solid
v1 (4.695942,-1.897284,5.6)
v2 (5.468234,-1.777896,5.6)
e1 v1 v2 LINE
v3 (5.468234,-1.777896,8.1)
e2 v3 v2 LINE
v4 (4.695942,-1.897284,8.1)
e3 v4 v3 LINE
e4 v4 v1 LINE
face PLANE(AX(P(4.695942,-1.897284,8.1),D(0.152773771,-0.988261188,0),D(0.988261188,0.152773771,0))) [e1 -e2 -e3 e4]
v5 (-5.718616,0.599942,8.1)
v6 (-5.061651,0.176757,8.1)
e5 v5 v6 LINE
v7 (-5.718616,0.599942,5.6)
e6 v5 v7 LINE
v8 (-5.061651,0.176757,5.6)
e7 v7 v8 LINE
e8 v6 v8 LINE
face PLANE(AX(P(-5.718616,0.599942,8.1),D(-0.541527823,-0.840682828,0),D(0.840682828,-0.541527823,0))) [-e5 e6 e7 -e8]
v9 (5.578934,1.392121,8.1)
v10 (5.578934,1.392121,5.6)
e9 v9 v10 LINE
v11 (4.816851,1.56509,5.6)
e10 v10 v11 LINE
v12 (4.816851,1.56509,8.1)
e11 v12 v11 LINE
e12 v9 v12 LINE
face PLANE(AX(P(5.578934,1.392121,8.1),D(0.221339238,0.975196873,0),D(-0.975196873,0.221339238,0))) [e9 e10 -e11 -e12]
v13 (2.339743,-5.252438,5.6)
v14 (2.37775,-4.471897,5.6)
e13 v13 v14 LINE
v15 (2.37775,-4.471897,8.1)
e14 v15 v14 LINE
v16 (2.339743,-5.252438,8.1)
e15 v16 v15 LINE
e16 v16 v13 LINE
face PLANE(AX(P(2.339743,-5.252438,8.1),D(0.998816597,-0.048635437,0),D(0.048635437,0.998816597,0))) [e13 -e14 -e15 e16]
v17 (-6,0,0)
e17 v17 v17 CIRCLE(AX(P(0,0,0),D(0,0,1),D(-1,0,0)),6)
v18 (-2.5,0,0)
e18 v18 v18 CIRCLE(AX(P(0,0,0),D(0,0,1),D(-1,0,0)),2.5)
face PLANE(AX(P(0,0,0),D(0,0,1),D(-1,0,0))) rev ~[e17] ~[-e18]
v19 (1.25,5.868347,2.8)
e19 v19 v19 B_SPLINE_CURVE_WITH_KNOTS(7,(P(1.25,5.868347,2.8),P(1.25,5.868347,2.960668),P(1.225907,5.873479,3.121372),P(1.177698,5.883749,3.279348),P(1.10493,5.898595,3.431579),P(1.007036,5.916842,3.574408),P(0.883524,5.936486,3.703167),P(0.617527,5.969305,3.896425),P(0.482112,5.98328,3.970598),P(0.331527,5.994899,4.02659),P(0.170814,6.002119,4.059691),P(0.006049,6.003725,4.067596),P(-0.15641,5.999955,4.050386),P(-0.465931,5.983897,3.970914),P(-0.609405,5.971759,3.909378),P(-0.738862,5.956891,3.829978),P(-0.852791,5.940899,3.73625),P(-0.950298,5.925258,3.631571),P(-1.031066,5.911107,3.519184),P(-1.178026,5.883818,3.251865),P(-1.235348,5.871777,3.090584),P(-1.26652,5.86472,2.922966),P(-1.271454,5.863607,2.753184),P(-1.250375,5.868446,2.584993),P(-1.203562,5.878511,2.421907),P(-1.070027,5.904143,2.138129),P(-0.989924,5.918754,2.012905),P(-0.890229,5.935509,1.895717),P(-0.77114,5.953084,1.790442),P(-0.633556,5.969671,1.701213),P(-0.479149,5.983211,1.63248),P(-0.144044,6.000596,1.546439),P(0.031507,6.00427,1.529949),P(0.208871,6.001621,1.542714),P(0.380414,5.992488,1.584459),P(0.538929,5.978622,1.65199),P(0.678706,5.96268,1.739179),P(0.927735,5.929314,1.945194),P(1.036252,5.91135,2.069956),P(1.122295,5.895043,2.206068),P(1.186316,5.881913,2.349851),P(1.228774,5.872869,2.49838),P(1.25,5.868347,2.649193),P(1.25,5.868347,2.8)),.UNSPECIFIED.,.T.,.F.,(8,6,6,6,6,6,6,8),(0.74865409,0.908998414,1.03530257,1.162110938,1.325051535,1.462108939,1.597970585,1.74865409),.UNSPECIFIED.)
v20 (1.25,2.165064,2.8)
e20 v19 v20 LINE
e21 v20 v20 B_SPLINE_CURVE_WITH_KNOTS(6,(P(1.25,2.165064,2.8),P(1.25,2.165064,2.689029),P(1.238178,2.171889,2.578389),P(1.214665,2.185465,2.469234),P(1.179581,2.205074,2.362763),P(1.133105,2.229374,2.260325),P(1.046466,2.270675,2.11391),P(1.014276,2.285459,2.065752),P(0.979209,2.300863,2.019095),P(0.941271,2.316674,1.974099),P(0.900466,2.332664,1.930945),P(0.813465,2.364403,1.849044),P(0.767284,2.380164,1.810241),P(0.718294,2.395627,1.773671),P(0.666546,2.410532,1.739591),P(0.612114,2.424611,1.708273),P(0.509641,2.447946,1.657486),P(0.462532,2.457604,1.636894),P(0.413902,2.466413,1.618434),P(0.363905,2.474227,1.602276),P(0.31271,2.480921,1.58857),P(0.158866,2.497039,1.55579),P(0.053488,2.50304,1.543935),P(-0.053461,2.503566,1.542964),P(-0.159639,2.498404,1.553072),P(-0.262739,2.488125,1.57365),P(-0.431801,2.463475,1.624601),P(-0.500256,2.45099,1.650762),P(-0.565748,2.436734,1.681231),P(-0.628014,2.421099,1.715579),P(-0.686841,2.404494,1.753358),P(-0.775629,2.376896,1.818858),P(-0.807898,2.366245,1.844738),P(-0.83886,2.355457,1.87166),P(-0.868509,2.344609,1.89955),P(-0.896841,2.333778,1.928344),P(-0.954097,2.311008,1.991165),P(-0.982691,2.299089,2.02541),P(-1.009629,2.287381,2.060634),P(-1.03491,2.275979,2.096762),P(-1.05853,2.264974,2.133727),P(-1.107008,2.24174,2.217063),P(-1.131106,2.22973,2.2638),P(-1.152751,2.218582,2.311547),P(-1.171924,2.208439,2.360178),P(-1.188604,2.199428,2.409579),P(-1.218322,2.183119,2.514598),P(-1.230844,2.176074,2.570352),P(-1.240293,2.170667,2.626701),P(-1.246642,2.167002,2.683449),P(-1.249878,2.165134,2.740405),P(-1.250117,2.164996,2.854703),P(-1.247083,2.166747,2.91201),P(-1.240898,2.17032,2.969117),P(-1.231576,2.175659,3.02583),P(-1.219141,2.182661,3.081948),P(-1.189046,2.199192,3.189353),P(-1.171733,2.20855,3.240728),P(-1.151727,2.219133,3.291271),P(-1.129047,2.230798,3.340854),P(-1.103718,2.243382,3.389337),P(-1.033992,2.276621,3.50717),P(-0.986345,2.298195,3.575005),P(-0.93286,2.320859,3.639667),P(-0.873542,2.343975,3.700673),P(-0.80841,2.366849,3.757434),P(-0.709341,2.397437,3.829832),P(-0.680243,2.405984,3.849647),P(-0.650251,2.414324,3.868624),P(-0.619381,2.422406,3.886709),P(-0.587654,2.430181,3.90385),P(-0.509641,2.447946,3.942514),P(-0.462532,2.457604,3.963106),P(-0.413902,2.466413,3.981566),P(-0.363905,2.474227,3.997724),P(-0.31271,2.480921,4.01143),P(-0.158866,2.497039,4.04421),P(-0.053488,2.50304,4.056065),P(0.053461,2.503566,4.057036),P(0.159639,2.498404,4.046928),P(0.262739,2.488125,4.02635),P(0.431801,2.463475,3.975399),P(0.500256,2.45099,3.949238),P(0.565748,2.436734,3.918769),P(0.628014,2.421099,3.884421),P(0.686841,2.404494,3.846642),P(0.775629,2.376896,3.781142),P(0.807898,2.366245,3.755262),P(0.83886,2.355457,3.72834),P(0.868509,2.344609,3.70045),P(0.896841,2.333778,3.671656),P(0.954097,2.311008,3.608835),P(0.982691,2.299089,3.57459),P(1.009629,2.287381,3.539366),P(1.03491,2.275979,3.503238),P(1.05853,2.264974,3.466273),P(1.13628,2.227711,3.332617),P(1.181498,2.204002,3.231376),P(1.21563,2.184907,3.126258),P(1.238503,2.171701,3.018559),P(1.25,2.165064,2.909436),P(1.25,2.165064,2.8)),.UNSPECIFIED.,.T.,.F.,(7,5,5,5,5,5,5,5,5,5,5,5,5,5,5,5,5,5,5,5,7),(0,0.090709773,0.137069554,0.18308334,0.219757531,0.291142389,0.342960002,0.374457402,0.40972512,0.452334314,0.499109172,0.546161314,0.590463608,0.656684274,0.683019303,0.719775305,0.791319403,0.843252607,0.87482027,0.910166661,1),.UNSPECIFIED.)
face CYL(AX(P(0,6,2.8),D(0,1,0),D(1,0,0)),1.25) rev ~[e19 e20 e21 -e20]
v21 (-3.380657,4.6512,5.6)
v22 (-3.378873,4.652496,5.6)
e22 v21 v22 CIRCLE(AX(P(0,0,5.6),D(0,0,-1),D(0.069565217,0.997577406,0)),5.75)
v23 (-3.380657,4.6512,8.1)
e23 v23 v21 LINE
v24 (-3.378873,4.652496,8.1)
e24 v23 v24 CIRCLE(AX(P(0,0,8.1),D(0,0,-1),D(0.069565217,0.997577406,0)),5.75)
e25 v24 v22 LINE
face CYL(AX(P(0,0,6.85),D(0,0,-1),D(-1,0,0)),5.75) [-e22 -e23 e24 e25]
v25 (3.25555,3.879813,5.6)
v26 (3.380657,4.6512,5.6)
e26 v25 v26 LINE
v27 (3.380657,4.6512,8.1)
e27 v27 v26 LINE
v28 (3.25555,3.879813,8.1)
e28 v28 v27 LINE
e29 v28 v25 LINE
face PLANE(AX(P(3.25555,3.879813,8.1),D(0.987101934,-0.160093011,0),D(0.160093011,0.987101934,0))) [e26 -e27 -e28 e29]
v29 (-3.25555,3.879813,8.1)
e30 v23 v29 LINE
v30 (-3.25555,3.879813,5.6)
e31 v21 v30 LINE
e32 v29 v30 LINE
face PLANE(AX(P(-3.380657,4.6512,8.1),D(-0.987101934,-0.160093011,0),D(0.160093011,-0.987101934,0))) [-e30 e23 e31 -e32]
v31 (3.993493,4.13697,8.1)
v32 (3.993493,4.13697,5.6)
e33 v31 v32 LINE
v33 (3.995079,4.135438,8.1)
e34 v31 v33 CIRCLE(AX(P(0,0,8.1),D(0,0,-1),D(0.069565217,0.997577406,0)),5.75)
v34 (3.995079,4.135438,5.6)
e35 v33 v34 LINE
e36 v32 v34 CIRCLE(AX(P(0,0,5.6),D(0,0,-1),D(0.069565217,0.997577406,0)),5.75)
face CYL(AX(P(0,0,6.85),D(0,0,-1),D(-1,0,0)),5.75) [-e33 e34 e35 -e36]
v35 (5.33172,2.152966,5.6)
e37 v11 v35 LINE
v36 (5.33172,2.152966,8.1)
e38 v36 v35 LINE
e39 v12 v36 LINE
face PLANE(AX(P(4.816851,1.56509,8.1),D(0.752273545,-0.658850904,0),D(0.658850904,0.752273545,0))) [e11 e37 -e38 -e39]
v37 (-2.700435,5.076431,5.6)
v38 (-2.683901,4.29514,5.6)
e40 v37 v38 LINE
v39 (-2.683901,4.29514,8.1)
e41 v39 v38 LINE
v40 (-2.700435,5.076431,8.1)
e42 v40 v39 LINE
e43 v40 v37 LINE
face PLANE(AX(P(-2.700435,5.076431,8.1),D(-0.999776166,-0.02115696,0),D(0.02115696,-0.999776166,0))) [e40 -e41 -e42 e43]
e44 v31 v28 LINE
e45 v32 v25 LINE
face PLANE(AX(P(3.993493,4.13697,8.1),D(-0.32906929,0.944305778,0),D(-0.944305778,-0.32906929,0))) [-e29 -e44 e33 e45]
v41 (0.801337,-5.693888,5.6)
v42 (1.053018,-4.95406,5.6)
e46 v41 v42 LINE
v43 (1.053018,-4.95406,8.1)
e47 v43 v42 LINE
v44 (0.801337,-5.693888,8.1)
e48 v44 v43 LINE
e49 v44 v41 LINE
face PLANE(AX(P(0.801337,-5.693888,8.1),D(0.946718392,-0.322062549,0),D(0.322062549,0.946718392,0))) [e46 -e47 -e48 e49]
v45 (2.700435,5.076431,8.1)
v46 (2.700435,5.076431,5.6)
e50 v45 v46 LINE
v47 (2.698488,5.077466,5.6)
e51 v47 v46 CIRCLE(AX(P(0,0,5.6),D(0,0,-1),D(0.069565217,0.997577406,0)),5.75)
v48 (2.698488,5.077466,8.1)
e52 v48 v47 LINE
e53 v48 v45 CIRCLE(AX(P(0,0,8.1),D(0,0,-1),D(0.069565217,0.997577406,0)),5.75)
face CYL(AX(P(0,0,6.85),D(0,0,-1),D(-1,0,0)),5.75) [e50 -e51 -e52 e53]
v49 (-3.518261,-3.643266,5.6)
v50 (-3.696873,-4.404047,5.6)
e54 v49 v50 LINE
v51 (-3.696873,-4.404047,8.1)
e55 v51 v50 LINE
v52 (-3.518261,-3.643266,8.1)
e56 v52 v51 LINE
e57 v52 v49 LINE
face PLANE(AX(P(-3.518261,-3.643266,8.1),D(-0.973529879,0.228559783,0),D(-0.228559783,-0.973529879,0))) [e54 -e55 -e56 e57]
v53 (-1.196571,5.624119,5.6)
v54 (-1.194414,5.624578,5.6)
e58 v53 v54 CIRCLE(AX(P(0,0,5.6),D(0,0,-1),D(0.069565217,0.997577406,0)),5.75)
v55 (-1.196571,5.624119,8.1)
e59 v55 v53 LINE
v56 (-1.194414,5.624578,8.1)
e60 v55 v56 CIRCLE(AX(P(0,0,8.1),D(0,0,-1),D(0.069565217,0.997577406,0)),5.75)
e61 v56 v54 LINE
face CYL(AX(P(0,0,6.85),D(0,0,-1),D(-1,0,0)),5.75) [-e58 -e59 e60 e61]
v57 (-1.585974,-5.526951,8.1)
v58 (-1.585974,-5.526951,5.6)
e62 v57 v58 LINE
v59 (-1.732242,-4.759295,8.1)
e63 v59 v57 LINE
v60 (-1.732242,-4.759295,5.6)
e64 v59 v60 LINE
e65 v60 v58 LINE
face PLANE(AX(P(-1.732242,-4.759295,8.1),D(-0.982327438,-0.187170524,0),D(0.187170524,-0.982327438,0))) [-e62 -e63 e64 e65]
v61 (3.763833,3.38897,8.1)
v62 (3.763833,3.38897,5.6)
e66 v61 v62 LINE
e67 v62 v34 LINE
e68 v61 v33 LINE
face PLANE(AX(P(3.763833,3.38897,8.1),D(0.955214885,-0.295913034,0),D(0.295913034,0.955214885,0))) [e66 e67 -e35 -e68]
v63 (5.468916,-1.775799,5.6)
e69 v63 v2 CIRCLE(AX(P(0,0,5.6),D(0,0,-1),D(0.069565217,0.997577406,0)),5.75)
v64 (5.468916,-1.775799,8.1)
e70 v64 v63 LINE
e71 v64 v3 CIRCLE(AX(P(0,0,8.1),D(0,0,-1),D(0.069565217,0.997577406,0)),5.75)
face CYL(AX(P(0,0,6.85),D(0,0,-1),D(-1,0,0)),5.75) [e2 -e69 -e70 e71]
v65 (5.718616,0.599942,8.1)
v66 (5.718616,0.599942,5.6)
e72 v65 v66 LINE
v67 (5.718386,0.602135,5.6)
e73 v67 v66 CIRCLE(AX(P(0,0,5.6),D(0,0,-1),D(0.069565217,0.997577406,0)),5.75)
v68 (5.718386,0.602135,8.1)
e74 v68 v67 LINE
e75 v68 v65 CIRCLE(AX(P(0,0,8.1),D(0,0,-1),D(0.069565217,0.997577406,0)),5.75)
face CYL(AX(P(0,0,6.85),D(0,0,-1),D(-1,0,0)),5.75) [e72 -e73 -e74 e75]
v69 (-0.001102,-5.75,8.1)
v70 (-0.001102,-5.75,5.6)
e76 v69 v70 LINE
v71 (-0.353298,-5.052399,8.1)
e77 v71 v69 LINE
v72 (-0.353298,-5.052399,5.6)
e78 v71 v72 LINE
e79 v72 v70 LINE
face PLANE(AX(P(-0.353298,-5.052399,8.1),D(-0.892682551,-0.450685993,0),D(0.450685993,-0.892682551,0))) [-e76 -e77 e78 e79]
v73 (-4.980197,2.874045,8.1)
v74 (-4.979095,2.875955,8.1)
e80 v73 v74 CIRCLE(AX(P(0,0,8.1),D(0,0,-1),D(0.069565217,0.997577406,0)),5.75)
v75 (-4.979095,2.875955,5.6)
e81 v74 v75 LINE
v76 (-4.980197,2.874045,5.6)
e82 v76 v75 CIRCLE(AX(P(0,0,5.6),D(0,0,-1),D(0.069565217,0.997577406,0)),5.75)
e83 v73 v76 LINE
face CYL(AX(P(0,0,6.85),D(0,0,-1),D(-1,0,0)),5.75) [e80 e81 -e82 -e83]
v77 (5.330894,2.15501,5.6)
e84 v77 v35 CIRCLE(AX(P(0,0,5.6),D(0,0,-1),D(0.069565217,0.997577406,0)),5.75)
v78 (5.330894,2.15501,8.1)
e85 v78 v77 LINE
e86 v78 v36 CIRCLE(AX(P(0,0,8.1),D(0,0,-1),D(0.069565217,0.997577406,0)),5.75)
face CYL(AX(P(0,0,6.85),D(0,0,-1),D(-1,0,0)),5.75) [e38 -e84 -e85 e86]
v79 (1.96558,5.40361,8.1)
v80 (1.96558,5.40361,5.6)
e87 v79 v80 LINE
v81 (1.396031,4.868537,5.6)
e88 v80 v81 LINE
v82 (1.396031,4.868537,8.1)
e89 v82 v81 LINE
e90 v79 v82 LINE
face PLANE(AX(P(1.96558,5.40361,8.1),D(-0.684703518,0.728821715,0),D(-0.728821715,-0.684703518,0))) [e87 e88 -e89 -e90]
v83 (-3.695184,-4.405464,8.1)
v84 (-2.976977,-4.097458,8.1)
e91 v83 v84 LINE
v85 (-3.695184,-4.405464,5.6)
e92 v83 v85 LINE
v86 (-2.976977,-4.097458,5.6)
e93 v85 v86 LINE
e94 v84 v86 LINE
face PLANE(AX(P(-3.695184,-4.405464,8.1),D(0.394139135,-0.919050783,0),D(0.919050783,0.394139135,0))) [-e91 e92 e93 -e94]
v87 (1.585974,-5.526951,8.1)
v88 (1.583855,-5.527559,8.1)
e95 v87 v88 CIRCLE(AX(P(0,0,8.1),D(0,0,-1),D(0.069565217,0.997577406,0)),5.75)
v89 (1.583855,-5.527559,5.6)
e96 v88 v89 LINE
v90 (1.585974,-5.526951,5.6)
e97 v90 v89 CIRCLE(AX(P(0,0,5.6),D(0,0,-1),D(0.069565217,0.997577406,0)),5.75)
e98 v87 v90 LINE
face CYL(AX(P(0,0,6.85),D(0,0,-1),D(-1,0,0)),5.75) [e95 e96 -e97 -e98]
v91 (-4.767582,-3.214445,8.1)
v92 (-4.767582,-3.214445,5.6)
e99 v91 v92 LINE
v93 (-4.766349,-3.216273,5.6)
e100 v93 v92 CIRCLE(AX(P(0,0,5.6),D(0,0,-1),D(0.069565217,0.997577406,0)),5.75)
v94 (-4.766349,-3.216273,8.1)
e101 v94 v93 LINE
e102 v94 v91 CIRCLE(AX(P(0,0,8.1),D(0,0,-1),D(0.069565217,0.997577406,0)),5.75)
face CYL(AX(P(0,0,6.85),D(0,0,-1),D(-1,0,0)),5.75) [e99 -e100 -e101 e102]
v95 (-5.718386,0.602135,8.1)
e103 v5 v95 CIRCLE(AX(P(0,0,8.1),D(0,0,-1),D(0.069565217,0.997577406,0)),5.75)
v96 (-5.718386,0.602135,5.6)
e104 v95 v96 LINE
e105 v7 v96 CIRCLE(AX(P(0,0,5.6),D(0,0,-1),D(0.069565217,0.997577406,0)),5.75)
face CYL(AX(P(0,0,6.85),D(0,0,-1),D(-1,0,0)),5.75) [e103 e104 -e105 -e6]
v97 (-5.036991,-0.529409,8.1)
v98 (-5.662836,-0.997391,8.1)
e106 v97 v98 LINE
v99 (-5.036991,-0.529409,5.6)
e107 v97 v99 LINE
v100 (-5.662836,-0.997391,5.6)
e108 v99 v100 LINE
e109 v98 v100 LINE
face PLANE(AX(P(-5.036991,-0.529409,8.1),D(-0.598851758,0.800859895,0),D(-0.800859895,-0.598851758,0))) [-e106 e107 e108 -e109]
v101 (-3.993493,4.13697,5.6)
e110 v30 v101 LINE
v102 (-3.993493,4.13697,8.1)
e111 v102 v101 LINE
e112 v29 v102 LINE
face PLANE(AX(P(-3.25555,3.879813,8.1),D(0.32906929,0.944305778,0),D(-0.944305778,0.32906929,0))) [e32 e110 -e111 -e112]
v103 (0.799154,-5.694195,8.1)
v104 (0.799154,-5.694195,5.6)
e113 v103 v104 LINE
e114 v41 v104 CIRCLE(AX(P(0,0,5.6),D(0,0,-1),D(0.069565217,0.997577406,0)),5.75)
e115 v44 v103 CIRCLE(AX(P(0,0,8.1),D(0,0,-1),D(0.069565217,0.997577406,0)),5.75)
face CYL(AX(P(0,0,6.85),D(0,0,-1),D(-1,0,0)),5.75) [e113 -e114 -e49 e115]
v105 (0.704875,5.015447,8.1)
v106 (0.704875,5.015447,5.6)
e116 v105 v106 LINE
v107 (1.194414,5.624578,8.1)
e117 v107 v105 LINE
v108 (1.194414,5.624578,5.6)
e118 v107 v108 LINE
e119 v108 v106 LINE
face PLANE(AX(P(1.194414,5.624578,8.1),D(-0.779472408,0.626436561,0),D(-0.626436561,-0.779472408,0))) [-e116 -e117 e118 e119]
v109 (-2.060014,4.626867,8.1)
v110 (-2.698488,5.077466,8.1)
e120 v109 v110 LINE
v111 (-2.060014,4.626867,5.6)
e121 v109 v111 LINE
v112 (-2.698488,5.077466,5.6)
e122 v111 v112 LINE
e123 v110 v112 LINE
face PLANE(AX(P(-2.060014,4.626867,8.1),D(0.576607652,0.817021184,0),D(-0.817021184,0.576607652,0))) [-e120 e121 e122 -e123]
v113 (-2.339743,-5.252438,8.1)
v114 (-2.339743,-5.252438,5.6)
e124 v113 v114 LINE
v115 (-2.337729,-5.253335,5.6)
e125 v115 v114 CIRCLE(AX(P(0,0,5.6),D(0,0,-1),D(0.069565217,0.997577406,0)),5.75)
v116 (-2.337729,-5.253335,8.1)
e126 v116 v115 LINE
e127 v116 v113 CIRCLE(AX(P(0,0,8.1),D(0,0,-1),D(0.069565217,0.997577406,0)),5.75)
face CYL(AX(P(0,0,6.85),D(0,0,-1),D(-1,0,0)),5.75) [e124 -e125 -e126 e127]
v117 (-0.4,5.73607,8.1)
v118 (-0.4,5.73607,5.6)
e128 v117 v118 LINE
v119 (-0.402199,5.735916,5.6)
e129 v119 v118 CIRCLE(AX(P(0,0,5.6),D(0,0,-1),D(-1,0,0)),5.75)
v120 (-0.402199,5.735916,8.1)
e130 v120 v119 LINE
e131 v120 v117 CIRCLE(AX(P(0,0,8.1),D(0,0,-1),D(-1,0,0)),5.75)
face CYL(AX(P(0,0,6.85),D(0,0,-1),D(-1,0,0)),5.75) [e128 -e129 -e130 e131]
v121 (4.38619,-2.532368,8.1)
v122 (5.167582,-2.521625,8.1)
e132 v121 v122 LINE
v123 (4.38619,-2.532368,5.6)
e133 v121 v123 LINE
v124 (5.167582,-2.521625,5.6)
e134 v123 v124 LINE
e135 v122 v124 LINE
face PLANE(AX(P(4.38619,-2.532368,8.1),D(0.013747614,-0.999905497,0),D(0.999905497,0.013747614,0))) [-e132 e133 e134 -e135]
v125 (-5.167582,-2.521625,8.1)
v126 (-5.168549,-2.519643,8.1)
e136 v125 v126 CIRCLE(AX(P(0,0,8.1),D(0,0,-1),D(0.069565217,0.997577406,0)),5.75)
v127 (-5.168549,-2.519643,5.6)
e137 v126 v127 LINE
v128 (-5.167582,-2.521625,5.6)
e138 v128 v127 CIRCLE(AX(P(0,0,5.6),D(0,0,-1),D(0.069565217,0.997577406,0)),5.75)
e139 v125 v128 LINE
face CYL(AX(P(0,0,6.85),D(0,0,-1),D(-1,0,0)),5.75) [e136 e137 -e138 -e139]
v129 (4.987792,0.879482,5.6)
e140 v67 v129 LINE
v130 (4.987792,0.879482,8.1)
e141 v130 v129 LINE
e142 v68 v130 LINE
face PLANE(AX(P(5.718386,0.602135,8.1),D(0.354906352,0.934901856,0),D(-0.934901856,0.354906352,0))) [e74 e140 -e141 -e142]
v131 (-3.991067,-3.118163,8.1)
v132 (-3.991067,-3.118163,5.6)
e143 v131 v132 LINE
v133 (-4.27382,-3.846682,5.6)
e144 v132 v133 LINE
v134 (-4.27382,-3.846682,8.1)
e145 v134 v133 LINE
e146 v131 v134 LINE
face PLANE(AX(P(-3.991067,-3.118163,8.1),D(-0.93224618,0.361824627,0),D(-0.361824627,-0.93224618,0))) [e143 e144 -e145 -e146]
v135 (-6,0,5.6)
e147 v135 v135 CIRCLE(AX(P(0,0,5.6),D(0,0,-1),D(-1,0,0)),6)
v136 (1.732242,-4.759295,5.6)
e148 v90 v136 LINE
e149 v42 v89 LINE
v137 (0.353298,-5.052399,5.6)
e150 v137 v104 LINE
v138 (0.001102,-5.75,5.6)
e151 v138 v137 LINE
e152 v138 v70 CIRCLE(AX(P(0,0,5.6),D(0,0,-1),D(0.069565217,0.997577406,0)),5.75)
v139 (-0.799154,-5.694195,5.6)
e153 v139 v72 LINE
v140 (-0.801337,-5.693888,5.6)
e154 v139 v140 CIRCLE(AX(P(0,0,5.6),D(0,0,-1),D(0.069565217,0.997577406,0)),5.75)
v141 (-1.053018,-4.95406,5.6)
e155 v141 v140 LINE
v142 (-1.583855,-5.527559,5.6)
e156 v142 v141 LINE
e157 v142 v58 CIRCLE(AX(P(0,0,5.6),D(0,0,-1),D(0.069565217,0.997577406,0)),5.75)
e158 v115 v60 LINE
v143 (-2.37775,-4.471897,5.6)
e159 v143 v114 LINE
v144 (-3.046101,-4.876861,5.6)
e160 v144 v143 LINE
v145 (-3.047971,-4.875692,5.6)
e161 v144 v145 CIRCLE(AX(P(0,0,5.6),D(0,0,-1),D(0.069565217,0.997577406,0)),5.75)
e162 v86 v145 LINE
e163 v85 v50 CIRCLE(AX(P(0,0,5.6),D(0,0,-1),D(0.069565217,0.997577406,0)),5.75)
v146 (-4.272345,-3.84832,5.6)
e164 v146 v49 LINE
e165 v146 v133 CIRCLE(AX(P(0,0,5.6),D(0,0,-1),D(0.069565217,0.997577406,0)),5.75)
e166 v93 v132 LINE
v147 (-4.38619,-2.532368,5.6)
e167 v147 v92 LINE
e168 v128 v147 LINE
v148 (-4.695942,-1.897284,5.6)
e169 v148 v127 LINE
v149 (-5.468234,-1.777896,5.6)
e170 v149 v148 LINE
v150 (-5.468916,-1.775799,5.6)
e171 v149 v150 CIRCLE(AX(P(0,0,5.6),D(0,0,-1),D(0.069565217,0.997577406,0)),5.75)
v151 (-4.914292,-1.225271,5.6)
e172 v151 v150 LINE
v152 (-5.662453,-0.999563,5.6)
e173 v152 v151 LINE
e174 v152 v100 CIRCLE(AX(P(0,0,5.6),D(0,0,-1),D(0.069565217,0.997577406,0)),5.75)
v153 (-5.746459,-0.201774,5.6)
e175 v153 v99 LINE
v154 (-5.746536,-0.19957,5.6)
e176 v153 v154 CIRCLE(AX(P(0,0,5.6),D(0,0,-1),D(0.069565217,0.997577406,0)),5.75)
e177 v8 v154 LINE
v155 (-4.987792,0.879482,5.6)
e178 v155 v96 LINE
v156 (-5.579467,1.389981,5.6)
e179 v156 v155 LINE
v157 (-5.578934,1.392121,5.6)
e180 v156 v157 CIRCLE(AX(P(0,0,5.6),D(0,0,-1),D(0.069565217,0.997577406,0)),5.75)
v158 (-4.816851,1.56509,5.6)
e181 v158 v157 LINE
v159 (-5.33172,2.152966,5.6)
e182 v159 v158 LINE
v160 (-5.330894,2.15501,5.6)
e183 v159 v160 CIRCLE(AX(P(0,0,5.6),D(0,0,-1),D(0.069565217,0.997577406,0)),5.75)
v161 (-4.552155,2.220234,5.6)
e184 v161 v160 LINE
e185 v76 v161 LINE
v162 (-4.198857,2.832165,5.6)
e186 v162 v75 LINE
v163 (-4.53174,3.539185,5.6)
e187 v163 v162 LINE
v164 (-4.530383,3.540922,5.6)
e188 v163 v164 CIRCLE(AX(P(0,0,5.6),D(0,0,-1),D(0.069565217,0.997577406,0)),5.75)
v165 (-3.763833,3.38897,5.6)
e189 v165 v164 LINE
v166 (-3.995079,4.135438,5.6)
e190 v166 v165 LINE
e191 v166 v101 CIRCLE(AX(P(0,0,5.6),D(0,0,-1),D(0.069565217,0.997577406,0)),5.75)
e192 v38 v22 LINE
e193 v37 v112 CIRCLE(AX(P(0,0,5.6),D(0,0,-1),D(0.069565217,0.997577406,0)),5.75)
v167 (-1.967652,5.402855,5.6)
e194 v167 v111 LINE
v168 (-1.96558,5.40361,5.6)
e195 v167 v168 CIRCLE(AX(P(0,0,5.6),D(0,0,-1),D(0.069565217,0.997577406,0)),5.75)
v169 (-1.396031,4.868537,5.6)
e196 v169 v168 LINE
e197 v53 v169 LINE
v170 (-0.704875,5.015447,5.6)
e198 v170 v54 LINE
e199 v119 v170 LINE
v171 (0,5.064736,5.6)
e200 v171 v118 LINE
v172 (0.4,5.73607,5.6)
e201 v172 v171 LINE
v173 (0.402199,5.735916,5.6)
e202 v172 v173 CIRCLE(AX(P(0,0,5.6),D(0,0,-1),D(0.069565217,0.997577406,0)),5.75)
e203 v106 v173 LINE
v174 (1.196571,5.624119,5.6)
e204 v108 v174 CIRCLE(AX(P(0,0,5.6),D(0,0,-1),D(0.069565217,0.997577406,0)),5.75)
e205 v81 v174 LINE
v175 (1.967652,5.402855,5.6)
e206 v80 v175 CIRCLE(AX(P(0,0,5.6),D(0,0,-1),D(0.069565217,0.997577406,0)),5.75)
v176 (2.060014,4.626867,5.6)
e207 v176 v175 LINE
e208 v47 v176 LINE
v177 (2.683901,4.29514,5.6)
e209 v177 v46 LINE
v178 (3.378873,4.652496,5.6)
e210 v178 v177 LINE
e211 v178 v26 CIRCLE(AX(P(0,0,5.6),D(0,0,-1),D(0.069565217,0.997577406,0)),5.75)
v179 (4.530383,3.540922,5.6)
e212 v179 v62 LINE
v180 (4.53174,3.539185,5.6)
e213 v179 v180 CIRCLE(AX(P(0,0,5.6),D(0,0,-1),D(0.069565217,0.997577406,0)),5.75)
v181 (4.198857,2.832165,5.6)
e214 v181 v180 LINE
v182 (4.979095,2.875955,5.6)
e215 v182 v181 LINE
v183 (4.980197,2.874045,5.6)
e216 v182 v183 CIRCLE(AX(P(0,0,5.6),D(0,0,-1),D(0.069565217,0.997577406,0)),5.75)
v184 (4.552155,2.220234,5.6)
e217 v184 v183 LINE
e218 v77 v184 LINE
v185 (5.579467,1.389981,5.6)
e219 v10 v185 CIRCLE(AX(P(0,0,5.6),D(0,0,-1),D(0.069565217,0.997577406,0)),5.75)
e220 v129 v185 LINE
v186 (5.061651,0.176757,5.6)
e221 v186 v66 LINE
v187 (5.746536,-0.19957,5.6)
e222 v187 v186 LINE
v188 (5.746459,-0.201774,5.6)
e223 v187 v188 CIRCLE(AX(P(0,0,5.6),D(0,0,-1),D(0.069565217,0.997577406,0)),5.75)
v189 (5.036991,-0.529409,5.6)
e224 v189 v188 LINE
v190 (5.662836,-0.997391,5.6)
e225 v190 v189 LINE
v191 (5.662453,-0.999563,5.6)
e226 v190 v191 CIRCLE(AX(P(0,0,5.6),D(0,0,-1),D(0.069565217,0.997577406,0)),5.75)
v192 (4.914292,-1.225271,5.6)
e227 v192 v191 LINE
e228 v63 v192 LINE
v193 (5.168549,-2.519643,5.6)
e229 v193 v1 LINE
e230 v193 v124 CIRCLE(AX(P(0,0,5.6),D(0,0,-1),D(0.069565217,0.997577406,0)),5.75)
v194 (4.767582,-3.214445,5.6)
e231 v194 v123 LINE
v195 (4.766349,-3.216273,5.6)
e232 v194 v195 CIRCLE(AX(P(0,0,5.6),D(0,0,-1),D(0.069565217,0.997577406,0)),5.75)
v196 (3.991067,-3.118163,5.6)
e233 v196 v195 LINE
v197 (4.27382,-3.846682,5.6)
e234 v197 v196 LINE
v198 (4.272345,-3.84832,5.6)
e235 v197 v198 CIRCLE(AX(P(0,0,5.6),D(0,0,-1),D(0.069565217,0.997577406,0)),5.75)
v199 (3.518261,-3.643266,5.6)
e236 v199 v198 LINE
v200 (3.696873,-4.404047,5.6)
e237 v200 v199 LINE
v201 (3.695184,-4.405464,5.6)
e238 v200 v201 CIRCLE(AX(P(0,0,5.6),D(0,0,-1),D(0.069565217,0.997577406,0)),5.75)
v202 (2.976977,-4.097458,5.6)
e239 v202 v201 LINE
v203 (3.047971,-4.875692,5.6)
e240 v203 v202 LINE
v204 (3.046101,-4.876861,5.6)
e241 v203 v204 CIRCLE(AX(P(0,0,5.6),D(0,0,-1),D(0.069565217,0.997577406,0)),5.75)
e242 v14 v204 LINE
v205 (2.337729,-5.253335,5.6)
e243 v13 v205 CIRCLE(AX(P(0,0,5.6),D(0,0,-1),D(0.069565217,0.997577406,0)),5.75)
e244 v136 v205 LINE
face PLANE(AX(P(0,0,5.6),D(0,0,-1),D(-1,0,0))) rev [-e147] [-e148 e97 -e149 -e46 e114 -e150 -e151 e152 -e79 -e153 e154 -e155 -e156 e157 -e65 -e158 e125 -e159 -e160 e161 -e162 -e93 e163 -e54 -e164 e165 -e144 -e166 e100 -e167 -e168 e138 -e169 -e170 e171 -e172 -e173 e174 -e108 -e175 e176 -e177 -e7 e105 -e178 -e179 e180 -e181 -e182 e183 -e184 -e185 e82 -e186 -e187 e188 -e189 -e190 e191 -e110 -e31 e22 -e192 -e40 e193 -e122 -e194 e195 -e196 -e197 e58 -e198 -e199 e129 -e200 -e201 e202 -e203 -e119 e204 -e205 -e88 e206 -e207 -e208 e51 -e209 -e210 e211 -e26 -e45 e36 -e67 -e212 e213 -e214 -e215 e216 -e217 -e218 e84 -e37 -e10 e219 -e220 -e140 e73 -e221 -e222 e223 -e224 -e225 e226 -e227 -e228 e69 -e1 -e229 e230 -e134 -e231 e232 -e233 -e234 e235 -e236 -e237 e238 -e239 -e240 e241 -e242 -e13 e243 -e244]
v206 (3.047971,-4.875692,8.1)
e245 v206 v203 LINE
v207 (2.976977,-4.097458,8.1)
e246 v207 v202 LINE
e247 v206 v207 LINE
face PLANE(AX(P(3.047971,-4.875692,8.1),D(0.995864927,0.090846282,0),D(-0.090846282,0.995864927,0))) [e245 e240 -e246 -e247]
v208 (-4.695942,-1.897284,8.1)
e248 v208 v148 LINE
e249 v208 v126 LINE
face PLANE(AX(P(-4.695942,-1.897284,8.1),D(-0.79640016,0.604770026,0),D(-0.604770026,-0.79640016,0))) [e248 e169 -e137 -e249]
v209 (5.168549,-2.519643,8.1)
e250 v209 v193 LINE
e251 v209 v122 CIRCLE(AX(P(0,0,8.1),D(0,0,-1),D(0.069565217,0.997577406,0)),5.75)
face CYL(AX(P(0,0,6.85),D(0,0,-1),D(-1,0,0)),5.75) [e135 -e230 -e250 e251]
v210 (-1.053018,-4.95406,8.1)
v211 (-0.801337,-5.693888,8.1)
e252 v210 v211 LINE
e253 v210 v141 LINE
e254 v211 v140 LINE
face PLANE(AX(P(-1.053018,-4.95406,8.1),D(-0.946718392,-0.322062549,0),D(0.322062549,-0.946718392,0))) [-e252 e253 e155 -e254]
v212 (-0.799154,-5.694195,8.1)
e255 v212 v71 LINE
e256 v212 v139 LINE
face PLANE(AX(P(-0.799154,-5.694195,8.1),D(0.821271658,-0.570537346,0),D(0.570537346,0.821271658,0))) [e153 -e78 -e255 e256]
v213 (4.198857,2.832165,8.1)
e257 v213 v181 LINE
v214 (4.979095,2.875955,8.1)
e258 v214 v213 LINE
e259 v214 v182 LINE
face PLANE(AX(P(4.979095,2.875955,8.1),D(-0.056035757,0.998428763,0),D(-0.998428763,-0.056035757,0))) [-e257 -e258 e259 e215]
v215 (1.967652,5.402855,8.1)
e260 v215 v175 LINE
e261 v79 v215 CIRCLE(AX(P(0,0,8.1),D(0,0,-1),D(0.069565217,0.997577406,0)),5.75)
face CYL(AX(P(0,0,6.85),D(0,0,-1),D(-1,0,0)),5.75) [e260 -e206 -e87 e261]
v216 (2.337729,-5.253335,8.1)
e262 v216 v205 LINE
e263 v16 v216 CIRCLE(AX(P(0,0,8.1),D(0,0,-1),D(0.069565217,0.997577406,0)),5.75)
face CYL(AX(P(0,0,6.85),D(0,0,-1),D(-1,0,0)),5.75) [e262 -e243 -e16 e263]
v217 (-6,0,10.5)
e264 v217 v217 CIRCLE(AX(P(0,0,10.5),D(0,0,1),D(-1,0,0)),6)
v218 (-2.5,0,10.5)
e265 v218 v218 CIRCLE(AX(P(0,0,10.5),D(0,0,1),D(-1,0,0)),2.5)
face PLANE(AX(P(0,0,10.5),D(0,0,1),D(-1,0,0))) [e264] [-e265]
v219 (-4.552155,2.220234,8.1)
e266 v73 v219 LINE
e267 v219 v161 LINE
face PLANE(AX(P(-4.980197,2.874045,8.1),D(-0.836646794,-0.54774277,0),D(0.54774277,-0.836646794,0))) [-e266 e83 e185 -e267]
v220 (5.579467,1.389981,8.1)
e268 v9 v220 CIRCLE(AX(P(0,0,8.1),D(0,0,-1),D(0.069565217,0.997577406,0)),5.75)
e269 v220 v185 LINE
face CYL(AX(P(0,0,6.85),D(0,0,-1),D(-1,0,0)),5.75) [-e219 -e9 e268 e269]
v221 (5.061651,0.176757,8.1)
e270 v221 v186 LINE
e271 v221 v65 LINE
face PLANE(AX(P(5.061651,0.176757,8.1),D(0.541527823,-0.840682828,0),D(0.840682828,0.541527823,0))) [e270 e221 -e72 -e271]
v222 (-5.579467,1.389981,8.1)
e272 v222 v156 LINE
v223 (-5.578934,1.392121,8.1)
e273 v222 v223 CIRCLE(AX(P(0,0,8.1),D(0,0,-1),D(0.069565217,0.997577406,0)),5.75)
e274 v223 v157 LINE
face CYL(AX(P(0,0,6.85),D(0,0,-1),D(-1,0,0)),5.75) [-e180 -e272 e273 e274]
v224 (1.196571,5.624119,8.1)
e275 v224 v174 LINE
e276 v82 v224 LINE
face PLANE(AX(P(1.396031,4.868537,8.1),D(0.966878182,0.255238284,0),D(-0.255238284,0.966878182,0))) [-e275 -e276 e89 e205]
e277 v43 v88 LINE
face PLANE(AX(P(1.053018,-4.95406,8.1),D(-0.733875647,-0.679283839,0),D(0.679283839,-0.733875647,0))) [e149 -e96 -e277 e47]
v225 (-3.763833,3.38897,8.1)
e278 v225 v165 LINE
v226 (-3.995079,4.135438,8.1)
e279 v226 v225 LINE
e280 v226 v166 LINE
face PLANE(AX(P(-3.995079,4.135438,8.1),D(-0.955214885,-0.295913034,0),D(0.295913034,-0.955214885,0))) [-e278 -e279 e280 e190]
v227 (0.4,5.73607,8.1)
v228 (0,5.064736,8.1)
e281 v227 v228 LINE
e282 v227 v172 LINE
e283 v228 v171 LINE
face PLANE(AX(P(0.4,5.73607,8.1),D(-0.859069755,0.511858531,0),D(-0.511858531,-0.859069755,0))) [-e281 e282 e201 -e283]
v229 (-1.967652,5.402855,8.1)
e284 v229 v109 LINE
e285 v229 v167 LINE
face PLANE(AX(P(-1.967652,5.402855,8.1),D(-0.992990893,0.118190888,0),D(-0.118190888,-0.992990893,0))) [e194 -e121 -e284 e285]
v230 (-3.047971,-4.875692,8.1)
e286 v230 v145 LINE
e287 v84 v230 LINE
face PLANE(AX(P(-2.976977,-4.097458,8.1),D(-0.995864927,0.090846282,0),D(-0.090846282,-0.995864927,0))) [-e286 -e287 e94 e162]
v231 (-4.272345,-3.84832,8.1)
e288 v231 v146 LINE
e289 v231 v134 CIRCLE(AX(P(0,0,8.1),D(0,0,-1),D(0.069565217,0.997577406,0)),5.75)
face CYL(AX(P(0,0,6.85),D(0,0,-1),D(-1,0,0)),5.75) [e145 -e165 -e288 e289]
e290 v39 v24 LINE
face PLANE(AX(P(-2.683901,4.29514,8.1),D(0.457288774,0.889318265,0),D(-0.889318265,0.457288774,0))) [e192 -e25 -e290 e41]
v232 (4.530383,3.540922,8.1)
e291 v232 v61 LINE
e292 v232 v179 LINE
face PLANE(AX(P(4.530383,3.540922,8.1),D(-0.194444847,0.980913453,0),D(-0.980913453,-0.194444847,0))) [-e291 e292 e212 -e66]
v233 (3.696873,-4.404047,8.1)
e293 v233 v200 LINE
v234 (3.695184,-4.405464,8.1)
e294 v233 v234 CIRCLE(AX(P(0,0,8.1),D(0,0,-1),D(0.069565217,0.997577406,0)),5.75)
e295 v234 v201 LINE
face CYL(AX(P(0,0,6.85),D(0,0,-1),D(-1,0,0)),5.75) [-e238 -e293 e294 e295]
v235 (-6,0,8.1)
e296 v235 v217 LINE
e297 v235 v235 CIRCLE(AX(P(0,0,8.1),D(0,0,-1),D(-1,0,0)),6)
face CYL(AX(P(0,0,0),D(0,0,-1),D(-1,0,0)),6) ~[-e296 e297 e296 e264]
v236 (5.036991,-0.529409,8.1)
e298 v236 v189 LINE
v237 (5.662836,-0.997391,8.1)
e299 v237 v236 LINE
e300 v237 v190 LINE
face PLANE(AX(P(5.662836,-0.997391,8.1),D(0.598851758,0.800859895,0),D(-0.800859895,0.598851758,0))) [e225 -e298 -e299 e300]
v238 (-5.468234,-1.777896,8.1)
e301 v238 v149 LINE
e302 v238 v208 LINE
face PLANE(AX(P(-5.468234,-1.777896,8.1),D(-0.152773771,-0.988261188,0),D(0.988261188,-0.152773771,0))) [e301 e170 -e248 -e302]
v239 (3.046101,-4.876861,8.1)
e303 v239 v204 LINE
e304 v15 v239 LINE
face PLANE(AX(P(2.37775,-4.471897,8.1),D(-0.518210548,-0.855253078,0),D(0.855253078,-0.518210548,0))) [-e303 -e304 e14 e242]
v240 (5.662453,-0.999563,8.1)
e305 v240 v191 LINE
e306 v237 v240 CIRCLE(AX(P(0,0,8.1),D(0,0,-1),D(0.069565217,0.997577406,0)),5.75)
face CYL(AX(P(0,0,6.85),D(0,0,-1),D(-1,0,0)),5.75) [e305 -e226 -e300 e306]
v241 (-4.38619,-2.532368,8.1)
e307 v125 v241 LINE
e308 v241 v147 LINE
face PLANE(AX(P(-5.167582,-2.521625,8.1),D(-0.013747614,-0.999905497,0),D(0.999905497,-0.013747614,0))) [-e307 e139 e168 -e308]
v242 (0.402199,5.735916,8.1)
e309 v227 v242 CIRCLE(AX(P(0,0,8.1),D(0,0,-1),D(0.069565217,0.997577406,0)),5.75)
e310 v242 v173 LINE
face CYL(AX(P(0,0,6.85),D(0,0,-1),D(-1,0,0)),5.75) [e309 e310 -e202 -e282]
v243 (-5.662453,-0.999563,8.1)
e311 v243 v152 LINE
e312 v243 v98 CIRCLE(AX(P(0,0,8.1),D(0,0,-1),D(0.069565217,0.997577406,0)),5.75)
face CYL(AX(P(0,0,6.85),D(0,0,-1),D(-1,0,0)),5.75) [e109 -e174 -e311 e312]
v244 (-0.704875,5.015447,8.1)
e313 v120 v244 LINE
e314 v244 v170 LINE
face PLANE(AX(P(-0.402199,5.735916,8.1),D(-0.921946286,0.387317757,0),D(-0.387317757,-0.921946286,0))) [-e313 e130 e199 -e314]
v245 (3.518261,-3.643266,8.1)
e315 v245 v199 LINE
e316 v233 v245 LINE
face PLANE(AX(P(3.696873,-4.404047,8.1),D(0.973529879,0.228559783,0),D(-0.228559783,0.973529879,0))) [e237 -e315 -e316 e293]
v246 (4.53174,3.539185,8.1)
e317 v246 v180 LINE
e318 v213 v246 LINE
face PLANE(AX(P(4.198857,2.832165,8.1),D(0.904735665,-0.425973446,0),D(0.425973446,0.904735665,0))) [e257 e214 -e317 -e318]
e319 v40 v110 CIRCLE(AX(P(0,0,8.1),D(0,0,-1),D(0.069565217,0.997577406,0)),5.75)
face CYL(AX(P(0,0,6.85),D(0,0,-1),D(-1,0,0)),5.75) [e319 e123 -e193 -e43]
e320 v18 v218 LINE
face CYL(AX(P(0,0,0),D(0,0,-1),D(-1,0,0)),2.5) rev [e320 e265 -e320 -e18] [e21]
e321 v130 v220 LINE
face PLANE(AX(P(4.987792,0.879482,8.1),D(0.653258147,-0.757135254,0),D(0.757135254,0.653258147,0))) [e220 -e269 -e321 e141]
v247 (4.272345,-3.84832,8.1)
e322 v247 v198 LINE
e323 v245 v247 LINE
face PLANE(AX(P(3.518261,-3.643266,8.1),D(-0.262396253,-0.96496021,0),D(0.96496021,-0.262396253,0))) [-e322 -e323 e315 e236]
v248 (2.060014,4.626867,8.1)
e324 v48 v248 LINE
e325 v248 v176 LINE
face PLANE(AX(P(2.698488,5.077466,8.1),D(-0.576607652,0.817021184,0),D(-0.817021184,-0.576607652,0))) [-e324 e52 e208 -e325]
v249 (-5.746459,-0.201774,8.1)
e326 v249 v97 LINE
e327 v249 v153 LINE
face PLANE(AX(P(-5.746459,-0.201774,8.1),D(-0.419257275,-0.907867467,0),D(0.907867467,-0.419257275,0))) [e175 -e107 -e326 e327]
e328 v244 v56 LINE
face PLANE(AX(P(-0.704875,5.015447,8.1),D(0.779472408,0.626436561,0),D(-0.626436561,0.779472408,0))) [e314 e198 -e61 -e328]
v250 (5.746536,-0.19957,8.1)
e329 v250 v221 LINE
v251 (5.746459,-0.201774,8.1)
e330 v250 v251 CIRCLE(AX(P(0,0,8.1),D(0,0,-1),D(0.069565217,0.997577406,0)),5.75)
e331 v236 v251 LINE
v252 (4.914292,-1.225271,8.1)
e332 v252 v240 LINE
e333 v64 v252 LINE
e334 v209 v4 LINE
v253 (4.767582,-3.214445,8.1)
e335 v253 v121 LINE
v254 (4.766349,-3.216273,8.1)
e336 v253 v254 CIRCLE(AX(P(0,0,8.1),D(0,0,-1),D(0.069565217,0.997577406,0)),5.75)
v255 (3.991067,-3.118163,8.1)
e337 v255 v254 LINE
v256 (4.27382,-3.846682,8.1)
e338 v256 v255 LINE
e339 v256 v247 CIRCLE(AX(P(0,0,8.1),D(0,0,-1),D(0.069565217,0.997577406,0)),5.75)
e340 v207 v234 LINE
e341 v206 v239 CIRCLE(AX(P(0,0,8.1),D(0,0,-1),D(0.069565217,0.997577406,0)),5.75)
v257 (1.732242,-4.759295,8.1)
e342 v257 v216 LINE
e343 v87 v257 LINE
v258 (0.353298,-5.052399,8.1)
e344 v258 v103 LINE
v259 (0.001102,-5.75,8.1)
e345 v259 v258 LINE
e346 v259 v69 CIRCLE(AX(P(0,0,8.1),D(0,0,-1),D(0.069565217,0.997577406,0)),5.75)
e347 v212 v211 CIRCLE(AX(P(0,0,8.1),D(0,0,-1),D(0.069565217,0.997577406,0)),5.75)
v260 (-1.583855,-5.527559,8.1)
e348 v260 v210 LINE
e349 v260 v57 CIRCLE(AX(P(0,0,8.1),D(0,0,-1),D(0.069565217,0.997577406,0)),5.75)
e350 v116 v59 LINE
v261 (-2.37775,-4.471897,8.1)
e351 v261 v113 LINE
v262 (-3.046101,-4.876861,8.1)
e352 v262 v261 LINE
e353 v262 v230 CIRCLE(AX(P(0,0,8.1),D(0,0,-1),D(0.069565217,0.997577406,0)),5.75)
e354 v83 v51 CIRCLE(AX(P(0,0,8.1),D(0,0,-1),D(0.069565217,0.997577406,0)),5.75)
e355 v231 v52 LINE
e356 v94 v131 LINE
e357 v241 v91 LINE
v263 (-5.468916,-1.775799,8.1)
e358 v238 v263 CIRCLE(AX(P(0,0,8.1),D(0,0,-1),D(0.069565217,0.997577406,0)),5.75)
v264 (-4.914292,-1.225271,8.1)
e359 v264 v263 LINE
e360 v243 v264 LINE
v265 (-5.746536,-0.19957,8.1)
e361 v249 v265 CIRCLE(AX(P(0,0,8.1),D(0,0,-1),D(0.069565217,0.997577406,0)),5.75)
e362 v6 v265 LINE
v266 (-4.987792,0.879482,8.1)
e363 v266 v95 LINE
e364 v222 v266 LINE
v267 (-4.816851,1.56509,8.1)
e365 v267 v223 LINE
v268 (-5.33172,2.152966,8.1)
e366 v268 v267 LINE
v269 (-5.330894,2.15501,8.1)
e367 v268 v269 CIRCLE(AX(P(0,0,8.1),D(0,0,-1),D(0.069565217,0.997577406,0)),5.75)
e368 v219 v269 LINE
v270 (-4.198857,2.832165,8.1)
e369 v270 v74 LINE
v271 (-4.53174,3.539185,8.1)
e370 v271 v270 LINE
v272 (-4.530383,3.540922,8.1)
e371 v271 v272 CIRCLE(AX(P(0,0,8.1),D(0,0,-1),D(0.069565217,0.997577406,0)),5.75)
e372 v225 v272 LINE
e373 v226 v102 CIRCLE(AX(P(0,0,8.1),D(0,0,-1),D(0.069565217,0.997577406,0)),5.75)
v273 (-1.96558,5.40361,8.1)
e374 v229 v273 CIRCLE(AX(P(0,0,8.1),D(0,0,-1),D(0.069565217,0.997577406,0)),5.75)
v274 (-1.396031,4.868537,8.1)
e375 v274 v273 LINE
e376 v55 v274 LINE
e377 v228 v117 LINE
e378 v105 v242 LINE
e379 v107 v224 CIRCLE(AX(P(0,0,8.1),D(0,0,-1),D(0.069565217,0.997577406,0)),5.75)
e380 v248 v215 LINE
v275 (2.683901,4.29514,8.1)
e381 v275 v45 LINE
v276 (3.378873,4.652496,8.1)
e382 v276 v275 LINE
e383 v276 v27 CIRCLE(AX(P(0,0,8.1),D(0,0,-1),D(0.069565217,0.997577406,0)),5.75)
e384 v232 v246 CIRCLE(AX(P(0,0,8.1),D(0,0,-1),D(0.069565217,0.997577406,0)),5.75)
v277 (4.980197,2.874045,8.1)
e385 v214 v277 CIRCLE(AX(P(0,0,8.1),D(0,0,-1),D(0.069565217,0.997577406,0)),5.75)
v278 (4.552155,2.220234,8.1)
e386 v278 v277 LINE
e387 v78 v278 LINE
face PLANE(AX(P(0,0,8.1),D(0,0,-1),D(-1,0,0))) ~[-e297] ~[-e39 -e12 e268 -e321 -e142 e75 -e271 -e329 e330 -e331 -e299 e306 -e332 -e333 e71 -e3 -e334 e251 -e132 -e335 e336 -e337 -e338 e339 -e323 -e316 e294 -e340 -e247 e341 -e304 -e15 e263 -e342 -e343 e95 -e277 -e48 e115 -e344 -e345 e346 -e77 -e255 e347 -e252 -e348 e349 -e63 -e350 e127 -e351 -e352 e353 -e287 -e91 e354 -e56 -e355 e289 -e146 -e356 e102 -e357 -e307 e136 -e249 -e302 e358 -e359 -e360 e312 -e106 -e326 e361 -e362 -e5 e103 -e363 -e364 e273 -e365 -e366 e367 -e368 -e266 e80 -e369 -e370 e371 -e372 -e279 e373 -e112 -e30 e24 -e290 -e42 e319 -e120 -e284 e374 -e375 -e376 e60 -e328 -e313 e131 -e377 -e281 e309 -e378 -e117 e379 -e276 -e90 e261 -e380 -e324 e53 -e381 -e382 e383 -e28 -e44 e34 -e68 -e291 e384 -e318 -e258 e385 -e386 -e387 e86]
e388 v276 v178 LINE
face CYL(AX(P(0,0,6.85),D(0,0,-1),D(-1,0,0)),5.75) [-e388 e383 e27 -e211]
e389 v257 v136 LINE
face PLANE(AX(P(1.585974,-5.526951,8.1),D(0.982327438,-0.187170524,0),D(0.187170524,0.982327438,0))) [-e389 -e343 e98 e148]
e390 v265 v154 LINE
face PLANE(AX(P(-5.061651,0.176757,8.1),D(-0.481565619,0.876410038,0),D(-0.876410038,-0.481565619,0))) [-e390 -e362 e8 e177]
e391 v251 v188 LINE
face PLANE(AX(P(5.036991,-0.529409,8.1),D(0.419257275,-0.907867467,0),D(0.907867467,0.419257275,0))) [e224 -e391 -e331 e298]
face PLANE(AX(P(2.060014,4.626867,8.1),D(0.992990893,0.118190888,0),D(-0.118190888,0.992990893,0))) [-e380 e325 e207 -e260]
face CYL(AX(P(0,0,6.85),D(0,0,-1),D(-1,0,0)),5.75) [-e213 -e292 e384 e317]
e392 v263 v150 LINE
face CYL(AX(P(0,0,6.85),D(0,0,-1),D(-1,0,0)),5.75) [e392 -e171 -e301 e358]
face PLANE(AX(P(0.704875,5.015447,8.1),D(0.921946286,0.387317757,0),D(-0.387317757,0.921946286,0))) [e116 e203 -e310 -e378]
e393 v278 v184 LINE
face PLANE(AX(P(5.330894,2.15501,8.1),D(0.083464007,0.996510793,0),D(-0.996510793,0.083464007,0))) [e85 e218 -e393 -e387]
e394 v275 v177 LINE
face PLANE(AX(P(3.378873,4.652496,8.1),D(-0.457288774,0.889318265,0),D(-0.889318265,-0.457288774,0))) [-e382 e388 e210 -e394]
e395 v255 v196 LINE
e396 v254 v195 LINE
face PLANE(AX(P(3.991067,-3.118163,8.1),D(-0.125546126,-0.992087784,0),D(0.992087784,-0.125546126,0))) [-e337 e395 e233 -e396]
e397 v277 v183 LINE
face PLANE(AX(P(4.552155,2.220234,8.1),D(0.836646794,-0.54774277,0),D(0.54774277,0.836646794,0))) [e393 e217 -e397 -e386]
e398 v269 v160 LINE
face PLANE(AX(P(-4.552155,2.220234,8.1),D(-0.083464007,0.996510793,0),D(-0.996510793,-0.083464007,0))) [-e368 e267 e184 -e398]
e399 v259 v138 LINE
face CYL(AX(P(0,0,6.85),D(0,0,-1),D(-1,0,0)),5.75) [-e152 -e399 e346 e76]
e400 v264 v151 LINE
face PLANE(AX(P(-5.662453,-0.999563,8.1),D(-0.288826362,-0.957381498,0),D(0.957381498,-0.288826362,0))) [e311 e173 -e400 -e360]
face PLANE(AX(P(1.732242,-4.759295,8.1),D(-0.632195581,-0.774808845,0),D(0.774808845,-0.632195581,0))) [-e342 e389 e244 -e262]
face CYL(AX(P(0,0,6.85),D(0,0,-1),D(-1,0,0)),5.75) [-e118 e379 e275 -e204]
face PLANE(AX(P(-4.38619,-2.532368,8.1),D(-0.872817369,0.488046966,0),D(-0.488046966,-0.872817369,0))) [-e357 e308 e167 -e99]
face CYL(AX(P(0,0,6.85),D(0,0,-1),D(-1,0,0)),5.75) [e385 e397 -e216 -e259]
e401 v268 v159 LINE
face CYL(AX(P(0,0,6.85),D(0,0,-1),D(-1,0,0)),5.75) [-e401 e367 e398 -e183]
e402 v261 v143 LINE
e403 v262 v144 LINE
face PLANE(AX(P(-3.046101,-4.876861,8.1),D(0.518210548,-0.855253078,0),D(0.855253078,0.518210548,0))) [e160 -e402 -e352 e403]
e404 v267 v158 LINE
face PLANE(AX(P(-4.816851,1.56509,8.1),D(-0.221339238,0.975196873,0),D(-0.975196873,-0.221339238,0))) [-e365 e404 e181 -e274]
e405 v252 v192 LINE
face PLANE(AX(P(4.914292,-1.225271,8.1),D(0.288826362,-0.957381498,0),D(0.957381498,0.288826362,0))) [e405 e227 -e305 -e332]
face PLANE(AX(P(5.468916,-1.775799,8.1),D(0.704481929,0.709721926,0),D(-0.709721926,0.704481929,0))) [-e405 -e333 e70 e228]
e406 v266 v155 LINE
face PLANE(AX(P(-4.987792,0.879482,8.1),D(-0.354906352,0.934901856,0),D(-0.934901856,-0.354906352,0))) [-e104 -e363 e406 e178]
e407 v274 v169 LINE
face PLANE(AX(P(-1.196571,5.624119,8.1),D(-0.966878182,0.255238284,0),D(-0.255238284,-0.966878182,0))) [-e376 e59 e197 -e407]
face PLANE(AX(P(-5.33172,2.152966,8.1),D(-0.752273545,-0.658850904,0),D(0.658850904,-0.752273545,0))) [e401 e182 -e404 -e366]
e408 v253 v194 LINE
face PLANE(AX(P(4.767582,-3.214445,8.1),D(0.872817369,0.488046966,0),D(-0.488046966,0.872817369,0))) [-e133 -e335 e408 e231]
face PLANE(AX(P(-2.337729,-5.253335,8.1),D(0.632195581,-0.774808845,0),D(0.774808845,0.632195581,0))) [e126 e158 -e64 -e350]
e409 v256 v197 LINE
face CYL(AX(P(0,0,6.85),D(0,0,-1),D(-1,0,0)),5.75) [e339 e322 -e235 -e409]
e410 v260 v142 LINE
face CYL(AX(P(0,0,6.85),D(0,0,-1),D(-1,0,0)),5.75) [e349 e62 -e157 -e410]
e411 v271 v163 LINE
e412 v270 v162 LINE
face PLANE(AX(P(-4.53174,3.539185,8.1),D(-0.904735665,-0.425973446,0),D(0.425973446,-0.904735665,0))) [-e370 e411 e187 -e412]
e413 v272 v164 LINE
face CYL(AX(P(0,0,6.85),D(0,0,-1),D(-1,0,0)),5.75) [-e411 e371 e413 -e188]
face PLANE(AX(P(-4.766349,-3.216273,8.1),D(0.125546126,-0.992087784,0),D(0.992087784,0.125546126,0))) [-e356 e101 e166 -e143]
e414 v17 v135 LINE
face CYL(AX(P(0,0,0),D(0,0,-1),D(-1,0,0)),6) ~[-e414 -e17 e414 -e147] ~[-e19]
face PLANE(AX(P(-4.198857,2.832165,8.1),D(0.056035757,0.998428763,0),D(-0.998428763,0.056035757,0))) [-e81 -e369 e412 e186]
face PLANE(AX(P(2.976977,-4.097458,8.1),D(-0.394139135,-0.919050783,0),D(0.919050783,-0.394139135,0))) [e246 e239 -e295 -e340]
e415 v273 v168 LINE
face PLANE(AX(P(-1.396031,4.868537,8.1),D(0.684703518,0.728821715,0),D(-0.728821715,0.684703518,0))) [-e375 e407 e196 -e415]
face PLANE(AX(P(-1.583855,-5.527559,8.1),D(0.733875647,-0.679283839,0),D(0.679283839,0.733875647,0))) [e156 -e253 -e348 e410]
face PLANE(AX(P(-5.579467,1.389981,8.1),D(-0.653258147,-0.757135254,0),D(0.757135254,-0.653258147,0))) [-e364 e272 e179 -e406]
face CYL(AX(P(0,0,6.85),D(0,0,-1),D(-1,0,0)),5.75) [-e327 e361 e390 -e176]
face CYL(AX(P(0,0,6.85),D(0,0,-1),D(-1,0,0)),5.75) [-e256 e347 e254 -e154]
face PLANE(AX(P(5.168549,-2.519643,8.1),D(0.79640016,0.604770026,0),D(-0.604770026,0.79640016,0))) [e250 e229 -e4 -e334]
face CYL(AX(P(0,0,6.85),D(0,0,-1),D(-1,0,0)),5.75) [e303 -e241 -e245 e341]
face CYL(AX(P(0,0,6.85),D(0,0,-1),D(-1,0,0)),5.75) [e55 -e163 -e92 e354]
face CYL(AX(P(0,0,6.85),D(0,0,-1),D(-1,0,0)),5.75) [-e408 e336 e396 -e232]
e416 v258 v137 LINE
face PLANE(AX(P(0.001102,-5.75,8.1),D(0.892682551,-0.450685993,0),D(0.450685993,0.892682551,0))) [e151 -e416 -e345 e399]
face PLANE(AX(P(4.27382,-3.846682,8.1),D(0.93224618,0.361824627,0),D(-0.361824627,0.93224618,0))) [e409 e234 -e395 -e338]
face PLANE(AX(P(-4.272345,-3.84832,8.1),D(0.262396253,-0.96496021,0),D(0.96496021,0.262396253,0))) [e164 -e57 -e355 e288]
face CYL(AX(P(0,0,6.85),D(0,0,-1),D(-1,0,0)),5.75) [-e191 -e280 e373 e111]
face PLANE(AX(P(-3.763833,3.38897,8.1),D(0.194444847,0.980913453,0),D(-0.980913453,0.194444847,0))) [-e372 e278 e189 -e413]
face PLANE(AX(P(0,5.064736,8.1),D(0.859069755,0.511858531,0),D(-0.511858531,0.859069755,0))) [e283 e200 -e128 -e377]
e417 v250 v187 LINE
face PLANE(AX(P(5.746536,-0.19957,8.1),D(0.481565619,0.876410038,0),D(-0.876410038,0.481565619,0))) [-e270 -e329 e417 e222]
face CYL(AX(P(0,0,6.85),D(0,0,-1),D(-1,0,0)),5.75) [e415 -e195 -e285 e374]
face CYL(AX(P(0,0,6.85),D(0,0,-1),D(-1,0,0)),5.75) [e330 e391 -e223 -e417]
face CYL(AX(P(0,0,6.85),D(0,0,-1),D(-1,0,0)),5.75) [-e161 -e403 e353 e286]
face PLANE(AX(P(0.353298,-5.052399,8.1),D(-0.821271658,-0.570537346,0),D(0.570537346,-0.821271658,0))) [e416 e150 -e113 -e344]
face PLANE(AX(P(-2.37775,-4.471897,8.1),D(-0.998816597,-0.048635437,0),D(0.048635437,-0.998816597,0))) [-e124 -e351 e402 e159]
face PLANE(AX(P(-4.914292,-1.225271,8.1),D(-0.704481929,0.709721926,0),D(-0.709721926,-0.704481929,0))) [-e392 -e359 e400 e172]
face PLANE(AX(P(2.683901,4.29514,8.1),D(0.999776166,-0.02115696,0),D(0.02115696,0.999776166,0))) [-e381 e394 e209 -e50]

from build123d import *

# Parameters (mm, degrees)
CROQUIS1_R                                     = 6
CROQUIS1_R_2                                   = 2.5
SALIENTE_EXTRUIR1_DEPTH                        = 10.5
CROQUIS2_W                                     = 0.25
CROQUIS2_H                                     = 2.5
CORTAR_EXTRUIR1_DEPTH                          = 2.5
MATRIZC1_COUNT                                 = 45
PERFORADOR_PARA_ROSCAR_PARA_MACHO_DE_ROS_REACH = 19.037
PERFORADOR_PARA_ROSCAR_PARA_MACHO_DE_2_R       = 1.25


with BuildPart() as part:
    # Croquis1 → Saliente-Extruir1 (new body)
    with BuildSketch(Plane.XY):
        with Locations(Location((0, 0, 0), (0, 0, 180))):
            Circle(CROQUIS1_R)
        with Locations(Location((0, 0, 0), (0, 0, 180))):
            Circle(CROQUIS1_R_2, mode=Mode.SUBTRACT)
    extrude(amount=SALIENTE_EXTRUIR1_DEPTH)

    # Croquis2 → Cortar-Revolución1 (revolve, cut)
    with BuildSketch(Plane(origin=(0, 0, 0), x_dir=(1, 0, 0), z_dir=(0, 1, 0)), mode=Mode.PRIVATE) as cortar_revoluci_n1_sk:
        with Locations((5.875, -6.85)):
            Rectangle(CROQUIS2_W, CROQUIS2_H)
    revolve(cortar_revoluci_n1_sk.sketch.rotate(Axis((0, 0, 10.5), (0, 0, -1)), 180), axis=Axis((0, 0, 10.5), (0, 0, -1)), mode=Mode.SUBTRACT)

    # Croquis3 → Cortar-Extruir1 (cut)
    with BuildSketch(Plane(origin=(0, 0, 8.1), x_dir=(-1, 0, 0), z_dir=(0, 0, -1))):
        with BuildLine():
            Line((-0.4, 5.736070083), (0, 5.064736343))
            Line((0, 5.064736343), (0.4, 5.736070083))
            ThreePointArc((0.4, 5.736070083), (0, 5.75), (-0.4, 5.736070083))
        make_face()
    cortar_extruir1 = extrude(amount=CORTAR_EXTRUIR1_DEPTH, mode=Mode.SUBTRACT)

    # MatrizC1: Cortar-Extruir1 ×45 about axis
    matrizc1_axis = Axis((0, 0, 0), (0, 0, 1))
    for i in range(1, MATRIZC1_COUNT):
        add(cortar_extruir1.rotate(matrizc1_axis, i * 360 / MATRIZC1_COUNT), mode=Mode.SUBTRACT)

    # Perforador para roscar para macho de 2 → Perforador para roscar para macho de roscar para M31 (cut, up to next)
    with BuildSketch(Plane(origin=(0, 6, 0), x_dir=(1, 0, 0), z_dir=(0, 1, 0)), mode=Mode.PRIVATE) as perforador_para_roscar_para_macho_de_ros_sk1:
        with Locations((0, -2.8)):
            Circle(PERFORADOR_PARA_ROSCAR_PARA_MACHO_DE_2_R)
    perforador_para_roscar_para_macho_de_ros_tool1 = extrude(perforador_para_roscar_para_macho_de_ros_sk1.sketch, amount=-PERFORADOR_PARA_ROSCAR_PARA_MACHO_DE_ROS_REACH, mode=Mode.PRIVATE) & part.part
    add(perforador_para_roscar_para_macho_de_ros_tool1.solids().sort_by_distance((0, 6, 2.8))[0], mode=Mode.SUBTRACT)


solid = part.part
